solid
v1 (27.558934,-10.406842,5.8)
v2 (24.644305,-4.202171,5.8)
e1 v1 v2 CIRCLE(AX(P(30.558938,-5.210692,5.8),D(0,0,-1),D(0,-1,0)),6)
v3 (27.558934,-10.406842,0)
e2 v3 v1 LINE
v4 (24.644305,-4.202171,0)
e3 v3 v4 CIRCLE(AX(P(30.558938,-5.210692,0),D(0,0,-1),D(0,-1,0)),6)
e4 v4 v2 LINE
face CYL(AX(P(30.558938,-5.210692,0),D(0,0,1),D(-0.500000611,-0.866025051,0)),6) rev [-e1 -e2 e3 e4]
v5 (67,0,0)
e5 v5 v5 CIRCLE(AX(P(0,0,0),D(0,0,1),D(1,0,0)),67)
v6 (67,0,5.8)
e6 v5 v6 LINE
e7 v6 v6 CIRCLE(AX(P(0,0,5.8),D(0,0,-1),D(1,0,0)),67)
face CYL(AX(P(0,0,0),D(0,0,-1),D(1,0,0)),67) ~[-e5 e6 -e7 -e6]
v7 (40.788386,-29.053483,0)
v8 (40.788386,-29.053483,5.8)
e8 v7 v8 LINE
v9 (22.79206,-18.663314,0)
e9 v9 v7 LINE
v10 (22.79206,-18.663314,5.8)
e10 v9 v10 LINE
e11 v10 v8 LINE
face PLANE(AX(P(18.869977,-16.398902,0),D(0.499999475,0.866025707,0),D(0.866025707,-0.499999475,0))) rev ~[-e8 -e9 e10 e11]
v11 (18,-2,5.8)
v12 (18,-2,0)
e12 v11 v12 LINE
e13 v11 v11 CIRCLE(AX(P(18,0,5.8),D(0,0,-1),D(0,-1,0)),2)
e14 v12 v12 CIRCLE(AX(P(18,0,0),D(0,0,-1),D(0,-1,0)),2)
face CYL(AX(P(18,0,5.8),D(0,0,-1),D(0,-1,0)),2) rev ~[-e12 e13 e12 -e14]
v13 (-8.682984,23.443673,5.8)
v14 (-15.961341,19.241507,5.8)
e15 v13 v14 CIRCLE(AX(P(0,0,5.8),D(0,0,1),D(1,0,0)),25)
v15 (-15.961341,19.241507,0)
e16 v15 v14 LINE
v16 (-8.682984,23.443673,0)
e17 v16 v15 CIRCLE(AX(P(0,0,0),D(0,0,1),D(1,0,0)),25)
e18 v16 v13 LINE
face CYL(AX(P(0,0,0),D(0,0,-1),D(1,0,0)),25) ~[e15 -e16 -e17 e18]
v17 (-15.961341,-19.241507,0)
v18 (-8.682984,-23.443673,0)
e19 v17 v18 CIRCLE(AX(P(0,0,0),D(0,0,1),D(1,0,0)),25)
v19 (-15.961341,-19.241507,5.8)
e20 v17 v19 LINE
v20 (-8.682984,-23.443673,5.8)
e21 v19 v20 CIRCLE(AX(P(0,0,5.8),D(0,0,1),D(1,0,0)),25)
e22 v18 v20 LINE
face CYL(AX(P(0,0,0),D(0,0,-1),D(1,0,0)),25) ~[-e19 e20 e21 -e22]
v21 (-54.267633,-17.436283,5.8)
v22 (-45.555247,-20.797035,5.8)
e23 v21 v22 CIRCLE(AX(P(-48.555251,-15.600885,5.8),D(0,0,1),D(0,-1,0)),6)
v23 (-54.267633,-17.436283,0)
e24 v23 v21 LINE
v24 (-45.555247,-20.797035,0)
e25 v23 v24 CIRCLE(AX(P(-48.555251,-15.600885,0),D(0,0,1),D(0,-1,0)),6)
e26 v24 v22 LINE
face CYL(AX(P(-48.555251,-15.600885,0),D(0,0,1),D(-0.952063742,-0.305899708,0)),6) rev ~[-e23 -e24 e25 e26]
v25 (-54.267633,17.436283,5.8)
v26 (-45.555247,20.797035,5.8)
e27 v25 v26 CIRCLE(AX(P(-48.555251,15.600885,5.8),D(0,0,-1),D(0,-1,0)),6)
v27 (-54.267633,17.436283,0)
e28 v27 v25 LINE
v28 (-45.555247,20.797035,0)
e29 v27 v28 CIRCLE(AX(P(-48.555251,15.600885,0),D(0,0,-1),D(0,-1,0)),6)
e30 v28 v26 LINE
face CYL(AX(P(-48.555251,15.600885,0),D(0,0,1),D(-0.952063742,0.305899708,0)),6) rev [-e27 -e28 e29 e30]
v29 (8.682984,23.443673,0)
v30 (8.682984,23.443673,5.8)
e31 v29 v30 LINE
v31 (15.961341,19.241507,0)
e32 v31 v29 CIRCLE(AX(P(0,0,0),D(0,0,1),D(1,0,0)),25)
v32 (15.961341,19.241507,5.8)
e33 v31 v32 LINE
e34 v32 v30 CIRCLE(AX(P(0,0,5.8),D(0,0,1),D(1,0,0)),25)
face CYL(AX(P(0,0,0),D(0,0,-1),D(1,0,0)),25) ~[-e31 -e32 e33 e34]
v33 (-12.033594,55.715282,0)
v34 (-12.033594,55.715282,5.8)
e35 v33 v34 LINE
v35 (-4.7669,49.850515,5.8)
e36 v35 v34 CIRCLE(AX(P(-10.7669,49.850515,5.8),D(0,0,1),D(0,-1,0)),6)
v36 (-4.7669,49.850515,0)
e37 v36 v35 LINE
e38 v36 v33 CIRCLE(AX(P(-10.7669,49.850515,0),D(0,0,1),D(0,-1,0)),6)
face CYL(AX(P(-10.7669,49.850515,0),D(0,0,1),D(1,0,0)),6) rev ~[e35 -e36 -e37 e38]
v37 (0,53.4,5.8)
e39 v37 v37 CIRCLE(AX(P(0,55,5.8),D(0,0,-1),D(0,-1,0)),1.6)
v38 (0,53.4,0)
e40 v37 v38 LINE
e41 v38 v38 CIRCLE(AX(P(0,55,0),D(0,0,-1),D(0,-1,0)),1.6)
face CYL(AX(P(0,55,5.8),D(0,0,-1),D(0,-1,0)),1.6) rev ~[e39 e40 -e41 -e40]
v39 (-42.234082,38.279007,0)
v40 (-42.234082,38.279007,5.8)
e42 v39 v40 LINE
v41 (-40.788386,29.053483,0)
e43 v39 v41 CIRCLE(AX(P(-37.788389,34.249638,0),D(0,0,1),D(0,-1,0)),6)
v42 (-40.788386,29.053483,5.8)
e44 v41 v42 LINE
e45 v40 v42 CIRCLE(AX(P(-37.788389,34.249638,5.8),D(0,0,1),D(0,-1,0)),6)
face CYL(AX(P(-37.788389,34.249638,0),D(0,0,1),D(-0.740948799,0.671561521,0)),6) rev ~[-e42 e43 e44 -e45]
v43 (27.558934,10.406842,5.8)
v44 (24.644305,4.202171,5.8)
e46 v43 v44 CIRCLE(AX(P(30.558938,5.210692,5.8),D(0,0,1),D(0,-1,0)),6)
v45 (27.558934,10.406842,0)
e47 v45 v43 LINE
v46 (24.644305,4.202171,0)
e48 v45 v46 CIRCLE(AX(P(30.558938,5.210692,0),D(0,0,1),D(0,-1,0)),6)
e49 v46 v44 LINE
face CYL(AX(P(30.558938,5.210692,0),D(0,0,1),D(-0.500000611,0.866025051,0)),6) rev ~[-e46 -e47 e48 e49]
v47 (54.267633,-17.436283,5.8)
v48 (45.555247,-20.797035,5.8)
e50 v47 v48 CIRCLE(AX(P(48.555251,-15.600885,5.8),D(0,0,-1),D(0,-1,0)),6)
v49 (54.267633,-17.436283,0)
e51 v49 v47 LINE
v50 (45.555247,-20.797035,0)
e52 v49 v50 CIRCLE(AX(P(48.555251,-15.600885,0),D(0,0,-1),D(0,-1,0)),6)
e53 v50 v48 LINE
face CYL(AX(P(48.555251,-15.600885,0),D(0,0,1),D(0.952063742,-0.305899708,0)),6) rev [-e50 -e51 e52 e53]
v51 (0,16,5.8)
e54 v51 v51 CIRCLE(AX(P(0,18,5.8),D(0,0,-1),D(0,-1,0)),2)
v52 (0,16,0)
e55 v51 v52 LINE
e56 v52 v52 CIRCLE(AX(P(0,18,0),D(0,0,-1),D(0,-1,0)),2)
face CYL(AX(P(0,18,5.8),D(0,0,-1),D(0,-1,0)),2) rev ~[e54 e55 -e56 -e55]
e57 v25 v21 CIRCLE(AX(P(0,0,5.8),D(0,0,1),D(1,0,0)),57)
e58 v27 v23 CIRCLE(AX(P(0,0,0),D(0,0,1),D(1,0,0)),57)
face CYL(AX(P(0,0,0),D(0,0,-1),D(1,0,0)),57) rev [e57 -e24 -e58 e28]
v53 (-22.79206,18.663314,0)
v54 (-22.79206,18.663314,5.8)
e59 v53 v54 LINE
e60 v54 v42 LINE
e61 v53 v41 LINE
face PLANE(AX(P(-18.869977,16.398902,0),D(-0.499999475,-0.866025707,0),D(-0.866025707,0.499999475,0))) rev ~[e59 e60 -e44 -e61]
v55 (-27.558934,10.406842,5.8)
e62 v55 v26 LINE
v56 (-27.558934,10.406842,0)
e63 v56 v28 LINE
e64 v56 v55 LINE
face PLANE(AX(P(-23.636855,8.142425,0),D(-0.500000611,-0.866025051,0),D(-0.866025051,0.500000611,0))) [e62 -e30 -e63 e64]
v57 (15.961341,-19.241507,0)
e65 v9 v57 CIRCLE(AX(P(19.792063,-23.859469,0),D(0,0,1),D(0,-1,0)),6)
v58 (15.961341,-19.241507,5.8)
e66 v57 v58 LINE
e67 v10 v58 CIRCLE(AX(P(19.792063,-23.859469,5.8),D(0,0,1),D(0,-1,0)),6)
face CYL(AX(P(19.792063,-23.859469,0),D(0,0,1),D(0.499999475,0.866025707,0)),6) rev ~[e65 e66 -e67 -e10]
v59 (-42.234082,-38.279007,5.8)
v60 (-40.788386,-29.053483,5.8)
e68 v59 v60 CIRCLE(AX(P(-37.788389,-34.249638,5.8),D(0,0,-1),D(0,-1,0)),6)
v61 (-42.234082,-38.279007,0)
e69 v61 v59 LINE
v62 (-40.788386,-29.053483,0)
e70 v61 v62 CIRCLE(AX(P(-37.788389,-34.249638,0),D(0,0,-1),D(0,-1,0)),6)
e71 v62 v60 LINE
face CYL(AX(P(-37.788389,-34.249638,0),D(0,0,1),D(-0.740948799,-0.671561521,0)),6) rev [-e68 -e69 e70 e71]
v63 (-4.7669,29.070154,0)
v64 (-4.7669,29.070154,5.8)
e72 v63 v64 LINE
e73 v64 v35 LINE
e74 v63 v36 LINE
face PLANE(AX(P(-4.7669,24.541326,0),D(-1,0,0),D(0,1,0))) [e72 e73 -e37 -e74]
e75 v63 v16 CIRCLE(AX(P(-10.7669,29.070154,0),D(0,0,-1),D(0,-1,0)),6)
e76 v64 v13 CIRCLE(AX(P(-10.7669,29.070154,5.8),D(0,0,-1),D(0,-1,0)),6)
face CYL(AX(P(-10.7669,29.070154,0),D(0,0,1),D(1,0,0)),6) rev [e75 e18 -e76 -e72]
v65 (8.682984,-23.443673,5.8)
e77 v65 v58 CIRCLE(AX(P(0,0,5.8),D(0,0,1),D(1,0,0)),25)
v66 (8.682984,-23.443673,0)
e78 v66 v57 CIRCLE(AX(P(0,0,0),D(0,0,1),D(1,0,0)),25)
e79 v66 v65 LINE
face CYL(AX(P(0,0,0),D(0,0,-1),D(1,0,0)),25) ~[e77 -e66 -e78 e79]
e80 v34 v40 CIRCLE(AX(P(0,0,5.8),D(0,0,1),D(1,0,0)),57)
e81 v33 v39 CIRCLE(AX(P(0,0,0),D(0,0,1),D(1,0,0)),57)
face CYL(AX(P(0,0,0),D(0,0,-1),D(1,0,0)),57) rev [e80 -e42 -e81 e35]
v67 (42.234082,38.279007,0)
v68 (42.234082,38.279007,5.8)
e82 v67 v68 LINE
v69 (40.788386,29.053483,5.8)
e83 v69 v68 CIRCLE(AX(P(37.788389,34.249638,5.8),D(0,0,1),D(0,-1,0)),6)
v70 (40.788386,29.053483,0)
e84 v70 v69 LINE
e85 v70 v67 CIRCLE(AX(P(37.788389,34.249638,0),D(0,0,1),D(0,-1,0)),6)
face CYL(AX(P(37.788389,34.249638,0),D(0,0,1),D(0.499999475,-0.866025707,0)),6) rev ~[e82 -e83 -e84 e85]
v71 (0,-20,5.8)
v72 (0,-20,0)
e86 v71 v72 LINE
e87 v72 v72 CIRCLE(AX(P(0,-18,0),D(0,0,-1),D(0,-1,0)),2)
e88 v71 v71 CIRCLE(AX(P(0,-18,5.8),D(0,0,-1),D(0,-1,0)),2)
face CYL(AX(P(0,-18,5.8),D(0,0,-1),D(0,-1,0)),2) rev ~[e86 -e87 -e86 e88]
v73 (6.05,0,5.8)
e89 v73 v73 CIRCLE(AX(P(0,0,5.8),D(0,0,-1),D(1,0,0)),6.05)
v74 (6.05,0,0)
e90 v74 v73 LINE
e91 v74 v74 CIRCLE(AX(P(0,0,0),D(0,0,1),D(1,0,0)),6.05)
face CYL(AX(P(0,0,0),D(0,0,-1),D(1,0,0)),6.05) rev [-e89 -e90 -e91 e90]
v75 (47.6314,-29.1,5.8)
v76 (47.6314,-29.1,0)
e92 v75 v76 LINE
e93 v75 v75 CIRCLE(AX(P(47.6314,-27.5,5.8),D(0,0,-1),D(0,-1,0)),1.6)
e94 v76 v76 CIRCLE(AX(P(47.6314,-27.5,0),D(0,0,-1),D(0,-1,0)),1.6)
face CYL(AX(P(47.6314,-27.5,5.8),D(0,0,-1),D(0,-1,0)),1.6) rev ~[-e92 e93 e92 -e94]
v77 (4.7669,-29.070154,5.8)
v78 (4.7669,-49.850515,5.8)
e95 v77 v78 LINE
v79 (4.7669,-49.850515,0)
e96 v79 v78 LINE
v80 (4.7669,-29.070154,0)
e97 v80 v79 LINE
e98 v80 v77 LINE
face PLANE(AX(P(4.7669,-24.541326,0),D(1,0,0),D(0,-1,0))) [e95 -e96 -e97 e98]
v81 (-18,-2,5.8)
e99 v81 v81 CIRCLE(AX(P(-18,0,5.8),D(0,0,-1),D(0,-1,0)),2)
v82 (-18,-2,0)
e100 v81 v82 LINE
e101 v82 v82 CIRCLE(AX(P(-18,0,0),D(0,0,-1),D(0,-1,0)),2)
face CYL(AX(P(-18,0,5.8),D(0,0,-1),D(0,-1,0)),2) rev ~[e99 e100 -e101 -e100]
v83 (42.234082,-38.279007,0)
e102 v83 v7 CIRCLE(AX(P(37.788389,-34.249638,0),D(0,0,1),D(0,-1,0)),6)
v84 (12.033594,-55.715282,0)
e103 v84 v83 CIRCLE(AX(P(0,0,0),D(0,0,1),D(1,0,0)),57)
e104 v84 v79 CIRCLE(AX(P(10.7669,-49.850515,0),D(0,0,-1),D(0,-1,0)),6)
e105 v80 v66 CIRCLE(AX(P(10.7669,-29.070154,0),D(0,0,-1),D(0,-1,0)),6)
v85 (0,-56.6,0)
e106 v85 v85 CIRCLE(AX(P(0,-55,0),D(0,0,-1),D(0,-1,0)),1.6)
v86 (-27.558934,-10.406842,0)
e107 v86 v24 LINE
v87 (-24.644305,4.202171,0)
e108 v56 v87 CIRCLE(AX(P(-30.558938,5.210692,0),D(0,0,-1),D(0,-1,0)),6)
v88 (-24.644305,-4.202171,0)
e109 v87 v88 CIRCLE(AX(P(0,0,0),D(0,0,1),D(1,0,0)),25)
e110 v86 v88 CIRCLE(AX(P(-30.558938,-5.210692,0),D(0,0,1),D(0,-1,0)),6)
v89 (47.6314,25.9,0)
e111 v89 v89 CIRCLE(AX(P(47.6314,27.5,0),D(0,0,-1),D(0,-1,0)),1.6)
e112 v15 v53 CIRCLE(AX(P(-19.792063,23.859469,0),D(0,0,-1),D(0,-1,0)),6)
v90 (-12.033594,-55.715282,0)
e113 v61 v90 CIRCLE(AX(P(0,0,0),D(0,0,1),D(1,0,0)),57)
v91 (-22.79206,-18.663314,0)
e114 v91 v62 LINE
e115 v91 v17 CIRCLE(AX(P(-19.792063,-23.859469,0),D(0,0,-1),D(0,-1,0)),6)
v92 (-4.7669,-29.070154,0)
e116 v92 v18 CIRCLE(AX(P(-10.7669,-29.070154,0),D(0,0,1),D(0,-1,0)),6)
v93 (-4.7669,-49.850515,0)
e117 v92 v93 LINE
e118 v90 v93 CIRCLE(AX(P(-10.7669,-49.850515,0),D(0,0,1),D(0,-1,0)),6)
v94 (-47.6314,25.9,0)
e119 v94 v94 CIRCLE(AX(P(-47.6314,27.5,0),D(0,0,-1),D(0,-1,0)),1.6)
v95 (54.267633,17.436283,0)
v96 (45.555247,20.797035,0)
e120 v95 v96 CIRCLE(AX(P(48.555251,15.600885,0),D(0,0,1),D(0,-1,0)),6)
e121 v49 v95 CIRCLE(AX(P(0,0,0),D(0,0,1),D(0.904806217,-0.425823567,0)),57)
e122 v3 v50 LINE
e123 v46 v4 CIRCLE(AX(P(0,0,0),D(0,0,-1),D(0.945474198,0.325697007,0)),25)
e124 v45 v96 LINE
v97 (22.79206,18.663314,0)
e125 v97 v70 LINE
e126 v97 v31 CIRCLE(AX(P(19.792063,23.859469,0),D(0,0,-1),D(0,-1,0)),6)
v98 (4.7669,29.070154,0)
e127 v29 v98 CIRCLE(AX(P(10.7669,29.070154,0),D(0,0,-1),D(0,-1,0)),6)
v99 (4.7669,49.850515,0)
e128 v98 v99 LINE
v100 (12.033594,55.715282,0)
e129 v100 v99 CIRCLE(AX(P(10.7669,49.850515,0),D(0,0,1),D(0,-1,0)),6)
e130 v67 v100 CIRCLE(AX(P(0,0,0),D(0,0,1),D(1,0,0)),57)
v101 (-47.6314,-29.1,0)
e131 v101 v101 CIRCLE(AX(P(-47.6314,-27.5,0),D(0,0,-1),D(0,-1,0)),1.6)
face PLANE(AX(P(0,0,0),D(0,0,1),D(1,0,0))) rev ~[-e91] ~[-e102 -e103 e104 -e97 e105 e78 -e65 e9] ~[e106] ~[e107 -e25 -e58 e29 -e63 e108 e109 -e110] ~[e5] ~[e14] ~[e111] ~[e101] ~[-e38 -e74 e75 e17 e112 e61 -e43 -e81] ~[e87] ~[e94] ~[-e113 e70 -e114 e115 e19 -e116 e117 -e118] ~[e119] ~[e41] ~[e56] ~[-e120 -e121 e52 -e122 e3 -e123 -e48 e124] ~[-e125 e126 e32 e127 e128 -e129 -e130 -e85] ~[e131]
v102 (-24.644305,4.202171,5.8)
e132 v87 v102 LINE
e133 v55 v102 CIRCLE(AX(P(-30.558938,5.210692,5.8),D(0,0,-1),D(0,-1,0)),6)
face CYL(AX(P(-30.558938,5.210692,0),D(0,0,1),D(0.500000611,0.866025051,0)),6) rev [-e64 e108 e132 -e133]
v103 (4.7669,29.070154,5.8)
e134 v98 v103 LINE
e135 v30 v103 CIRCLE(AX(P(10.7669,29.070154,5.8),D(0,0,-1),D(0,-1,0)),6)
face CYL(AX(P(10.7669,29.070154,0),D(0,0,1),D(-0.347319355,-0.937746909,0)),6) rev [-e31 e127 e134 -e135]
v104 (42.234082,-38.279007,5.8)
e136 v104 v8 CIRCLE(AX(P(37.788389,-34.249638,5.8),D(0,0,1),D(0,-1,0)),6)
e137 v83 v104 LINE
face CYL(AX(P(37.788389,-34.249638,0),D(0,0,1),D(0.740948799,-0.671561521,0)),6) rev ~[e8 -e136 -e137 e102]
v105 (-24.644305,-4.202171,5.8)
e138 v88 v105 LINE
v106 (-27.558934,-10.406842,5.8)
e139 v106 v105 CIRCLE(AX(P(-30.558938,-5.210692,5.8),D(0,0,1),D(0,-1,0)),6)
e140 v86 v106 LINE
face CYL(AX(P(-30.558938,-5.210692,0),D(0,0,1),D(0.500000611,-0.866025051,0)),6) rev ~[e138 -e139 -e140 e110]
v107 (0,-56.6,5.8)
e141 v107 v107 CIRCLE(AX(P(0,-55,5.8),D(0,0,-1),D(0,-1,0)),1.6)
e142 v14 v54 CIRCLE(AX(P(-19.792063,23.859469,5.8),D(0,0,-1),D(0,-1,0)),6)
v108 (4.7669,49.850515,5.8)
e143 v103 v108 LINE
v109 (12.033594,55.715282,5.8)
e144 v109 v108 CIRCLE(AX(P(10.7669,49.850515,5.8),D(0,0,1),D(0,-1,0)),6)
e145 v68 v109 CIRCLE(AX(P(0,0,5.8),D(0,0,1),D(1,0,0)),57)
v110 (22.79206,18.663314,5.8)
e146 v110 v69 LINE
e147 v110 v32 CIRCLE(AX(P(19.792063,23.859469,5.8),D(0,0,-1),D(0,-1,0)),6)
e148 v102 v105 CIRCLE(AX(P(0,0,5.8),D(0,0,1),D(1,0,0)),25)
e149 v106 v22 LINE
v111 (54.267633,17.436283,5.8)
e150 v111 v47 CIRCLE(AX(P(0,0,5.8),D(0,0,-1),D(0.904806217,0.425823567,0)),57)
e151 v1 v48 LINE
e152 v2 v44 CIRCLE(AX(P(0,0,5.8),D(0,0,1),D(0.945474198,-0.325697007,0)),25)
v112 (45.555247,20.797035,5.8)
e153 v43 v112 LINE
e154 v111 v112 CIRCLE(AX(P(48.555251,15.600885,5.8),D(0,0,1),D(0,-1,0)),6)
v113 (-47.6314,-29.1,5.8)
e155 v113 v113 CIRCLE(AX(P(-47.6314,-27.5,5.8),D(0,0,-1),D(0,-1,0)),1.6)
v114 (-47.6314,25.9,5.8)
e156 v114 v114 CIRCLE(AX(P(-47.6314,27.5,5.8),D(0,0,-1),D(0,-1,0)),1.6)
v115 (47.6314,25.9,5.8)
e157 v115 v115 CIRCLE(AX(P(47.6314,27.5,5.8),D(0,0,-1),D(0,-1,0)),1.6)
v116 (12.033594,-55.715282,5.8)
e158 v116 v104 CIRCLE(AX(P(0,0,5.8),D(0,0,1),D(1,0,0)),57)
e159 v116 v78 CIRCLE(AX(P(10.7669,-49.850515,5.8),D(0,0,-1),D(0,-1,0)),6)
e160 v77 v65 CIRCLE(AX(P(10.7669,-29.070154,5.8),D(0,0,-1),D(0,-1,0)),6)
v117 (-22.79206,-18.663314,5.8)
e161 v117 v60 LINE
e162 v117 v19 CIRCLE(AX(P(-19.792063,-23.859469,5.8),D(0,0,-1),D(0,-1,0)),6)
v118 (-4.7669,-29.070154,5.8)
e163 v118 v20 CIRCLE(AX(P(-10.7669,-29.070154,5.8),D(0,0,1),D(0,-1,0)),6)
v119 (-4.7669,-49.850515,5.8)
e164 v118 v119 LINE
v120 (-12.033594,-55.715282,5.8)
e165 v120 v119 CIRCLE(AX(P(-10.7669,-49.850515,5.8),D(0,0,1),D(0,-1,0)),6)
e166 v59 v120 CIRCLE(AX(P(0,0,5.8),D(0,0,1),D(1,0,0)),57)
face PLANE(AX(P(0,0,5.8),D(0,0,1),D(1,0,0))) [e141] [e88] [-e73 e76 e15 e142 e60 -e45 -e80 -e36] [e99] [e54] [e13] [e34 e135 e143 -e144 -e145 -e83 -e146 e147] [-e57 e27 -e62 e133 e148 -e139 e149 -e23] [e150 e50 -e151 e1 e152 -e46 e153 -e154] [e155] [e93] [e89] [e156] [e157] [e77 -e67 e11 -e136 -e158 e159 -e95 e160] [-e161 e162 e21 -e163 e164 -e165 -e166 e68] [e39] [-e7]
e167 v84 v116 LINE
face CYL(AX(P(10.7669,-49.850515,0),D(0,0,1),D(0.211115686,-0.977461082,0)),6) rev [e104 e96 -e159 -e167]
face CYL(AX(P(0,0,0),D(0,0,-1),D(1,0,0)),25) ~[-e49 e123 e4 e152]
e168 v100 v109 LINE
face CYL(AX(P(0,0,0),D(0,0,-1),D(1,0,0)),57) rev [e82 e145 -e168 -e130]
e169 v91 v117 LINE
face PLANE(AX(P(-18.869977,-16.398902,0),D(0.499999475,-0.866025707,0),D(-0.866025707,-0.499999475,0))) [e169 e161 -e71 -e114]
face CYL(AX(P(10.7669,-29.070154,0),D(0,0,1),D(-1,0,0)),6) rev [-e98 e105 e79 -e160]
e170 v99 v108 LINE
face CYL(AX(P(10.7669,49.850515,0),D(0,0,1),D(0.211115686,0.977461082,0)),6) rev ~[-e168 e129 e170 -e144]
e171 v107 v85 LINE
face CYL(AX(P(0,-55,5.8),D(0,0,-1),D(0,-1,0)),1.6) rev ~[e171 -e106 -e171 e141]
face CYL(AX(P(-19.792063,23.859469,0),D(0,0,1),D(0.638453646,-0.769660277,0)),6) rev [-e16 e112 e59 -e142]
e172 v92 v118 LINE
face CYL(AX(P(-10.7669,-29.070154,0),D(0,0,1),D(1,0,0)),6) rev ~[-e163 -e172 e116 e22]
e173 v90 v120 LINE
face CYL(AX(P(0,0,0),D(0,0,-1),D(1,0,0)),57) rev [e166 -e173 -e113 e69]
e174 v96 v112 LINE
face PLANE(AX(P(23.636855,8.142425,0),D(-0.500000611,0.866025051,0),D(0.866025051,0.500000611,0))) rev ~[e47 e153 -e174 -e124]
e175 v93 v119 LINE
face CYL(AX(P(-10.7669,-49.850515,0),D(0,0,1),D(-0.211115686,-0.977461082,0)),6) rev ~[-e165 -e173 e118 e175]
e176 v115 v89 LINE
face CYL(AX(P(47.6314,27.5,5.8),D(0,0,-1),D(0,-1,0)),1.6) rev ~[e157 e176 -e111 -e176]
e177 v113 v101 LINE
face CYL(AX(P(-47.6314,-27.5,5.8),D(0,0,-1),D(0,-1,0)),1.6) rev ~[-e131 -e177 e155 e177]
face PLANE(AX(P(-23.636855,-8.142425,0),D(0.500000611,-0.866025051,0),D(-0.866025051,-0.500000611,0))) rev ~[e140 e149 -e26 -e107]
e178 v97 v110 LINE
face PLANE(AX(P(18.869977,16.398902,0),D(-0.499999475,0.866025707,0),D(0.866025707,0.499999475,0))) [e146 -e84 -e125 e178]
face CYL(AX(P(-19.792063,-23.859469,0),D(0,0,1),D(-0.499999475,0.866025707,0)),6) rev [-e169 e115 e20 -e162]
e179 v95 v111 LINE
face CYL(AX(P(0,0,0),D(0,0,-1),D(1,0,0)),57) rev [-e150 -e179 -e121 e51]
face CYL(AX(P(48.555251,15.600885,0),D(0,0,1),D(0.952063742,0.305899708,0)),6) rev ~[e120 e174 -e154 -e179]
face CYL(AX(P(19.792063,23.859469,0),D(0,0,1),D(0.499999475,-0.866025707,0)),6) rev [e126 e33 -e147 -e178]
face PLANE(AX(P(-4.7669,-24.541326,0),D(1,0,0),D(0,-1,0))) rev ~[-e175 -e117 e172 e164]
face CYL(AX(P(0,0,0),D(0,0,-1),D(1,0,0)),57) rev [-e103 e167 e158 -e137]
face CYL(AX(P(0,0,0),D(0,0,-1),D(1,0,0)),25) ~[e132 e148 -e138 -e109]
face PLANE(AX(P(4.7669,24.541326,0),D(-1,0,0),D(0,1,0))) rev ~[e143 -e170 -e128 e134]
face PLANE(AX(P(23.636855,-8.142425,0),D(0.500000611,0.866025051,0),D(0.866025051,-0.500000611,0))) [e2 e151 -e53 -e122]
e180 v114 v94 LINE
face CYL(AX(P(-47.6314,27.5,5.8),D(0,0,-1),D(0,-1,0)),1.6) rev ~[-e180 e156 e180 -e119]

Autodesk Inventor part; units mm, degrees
ref_plane "YZ Plane" through (0, 0, 0) normal (1, 0, 0) x (0, 1, 0)
ref_plane "XZ Plane" through (0, 0, 0) normal (0, 1, 0) x (-1, 0, 0)
ref_plane "XY Plane" through (0, 0, 0) normal (0, 0, 1) x (1, 0, 0)
sketch "スケッチ1" plane through (0, 0, 0) normal (0, 0, 1) x (1, 0, 0)
  circle A0 centre (0, 0) radius 67
  circle A1 centre (0, 0) radius 57
  circle A2 centre (0, 0) radius 25
  line L0 (0, 0) -> (0, 67)
  circle A3 centre (0, 0) radius 6.05
  line L1 (4.7669, 0.7625) -> (4.7669, 66.8302)
  line L2 (4.7669, 0.7625) -> (70.8346, 0.7625) construction
  line L3 (-4.7669, 0.7625) -> (-4.7669, 66.8302)
  line L4 (-3.0438, -3.747) -> (-60.2601, 29.2869)
  line L5 (1.7231, 4.5095) -> (-55.4932, 37.5433)
  line L6 (1.7231, -4.5095) -> (-55.4932, -37.5433)
  line L7 (-3.0438, 3.747) -> (-60.2601, -29.2869)
  line L8 (4.7669, -0.7625) -> (4.7669, -66.8302)
  line L9 (-4.7669, -0.7625) -> (-4.7669, -66.8302)
  line L10 (3.0438, 3.747) -> (60.2601, -29.2869)
  line L11 (-1.7231, -4.5095) -> (55.4932, -37.5433)
  line L12 (-1.7231, 4.5095) -> (55.4932, 37.5433)
  line L13 (3.0438, -3.747) -> (60.2601, 29.2869)
  point P0 (4.7669, 56.8003)
  point P1 (46.8071, 32.5284)
  point P2 (18.87, 16.3989)
  point P3 (4.7669, 24.5413)
  point P4 (-4.7669, 56.8003)
  point P5 (-4.7669, 24.5413)
  point P6 (-18.87, 16.3989)
  point P7 (-46.8071, 32.5284)
  point P8 (51.574, -24.2719)
  point P9 (23.6368, -8.1424)
  point P10 (23.6368, 8.1424)
  point P11 (51.574, 24.2719)
  point P12 (4.7669, -56.8003)
  point P13 (4.7669, -24.5413)
  point P14 (18.87, -16.3989)
  point P15 (46.8071, -32.5284)
  point P16 (-46.8071, -32.5284)
  point P17 (-18.87, -16.3989)
  point P18 (-4.7669, -24.5413)
  point P19 (-4.7669, -56.8003)
  point P20 (-51.574, 24.2719)
  point P21 (-23.6368, 8.1424)
  point P22 (-23.6368, -8.1424)
  point P23 (-51.574, -24.2719)
  dimension "d0" = 134
  dimension "d1" = 114
  dimension "d2" = 50
  dimension "d3" = 12.1
  dimension "d4" = 90
  dimension "d7" = 360
extrude "押し出し1" add sketch "スケッチ1" along normal blind 5.8 contours A0 L10 A1 L13 | L13 A1 L12 A0 | A0 L11 A1 L10 | L12 A1 L1 A0 | L13 A2 L12 A1 | A0 L8 A1 L11 | A1 L11 A2 L10 | L1 A1 L0 A0 | L13 L10 A3 L1 L12 A2 | A2 L10 L13 | A0 L9 A1 L8 | A2 L11 L8 A3 L13 L10 | L0 A1 L3 A0 | L1 A2 L0 A1 | L12 L1 A2 | L13 A3 L10 | A0 L6 A1 L9 | A1 L9 A2 L8 | A2 L8 L11 | L3 A1 L5 A0 | L0 A2 L3 A1 | L1 L12 A3 L0 A2 | L1 A3 L12 | A0 L7 A1 L6 | A2 L9 L6 A3 L11 L8 | L11 A3 L8 | L5 A1 L4 A0 | L0 A3 L5 L3 A2 | A0 L4 A1 L7 | A1 L7 A2 L6 | A2 L6 L9 | L5 A2 L4 A1 | L3 L5 A2 | A2 L7 L4 A3 L9 L6 | L9 A3 L6 | L5 L3 A3 L7 L4 A2 | L5 A3 L3 | A2 L4 L7 | L7 A3 L4
sketch "スケッチ2" plane through (0, 0, 5.8) normal (0, 0, 1) x (1, 0, 0)
  point P0 (0, 0)
  point P1 (0, 18)
  point P2 (-18, 0)
  point P3 (0, -18)
  point P4 (18, 0)
  point P5 (0, 55)
  point P6 (-47.6314, 27.5)
  point P7 (-47.6314, -27.5)
  point P8 (0, -55)
  point P9 (47.6314, -27.5)
  point P10 (47.6314, 27.5)
  dimension "d11" = 18
  dimension "d14" = 360
  dimension "d16" = 55
  dimension "d19" = 360
hole "穴1" at (0, 18, 5.8) at (-18, 0, 5.8) at (0, -18, 5.8) at (18, 0, 5.8) direction (0, 0, -1) diameter 4 end through all
hole "穴2" at (0, 55, 5.8) at (-47.6314, 27.5, 5.8) at (-47.6314, -27.5, 5.8) at (0, -55, 5.8) at (47.6314, -27.5, 5.8) at (47.6314, 27.5, 5.8) direction (0, 0, -1) diameter 3.2 end through all
fillet "フィレット1" radius 6 24 edges at (-51.574, 24.2719, 2.9) (-51.574, -24.2719, 2.9) (-23.6368, -8.1424, 2.9) (-23.6368, 8.1424, 2.9) (-46.8071, 32.5284, 2.9) (-18.87, 16.3989, 2.9) (-4.7669, 24.5413, 2.9) (-4.7669, 56.8003, 2.9) (4.7669, 56.8003, 2.9) (4.7669, 24.5413, 2.9) (18.87, 16.3989, 2.9) (46.8071, 32.5284, 2.9) (51.574, 24.2719, 2.9) (23.6368, 8.1424, 2.9) (23.6368, -8.1424, 2.9) (51.574, -24.2719, 2.9) (46.8071, -32.5284, 2.9) (18.87, -16.3989, 2.9) (4.7669, -24.5413, 2.9) (4.7669, -56.8003, 2.9) (-4.7669, -56.8003, 2.9) (-4.7669, -24.5413, 2.9) (-18.87, -16.3989, 2.9) (-46.8071, -32.5284, 2.9)
properties part number "TH22_POM_roller_sn" material "ABS プラスチック"
